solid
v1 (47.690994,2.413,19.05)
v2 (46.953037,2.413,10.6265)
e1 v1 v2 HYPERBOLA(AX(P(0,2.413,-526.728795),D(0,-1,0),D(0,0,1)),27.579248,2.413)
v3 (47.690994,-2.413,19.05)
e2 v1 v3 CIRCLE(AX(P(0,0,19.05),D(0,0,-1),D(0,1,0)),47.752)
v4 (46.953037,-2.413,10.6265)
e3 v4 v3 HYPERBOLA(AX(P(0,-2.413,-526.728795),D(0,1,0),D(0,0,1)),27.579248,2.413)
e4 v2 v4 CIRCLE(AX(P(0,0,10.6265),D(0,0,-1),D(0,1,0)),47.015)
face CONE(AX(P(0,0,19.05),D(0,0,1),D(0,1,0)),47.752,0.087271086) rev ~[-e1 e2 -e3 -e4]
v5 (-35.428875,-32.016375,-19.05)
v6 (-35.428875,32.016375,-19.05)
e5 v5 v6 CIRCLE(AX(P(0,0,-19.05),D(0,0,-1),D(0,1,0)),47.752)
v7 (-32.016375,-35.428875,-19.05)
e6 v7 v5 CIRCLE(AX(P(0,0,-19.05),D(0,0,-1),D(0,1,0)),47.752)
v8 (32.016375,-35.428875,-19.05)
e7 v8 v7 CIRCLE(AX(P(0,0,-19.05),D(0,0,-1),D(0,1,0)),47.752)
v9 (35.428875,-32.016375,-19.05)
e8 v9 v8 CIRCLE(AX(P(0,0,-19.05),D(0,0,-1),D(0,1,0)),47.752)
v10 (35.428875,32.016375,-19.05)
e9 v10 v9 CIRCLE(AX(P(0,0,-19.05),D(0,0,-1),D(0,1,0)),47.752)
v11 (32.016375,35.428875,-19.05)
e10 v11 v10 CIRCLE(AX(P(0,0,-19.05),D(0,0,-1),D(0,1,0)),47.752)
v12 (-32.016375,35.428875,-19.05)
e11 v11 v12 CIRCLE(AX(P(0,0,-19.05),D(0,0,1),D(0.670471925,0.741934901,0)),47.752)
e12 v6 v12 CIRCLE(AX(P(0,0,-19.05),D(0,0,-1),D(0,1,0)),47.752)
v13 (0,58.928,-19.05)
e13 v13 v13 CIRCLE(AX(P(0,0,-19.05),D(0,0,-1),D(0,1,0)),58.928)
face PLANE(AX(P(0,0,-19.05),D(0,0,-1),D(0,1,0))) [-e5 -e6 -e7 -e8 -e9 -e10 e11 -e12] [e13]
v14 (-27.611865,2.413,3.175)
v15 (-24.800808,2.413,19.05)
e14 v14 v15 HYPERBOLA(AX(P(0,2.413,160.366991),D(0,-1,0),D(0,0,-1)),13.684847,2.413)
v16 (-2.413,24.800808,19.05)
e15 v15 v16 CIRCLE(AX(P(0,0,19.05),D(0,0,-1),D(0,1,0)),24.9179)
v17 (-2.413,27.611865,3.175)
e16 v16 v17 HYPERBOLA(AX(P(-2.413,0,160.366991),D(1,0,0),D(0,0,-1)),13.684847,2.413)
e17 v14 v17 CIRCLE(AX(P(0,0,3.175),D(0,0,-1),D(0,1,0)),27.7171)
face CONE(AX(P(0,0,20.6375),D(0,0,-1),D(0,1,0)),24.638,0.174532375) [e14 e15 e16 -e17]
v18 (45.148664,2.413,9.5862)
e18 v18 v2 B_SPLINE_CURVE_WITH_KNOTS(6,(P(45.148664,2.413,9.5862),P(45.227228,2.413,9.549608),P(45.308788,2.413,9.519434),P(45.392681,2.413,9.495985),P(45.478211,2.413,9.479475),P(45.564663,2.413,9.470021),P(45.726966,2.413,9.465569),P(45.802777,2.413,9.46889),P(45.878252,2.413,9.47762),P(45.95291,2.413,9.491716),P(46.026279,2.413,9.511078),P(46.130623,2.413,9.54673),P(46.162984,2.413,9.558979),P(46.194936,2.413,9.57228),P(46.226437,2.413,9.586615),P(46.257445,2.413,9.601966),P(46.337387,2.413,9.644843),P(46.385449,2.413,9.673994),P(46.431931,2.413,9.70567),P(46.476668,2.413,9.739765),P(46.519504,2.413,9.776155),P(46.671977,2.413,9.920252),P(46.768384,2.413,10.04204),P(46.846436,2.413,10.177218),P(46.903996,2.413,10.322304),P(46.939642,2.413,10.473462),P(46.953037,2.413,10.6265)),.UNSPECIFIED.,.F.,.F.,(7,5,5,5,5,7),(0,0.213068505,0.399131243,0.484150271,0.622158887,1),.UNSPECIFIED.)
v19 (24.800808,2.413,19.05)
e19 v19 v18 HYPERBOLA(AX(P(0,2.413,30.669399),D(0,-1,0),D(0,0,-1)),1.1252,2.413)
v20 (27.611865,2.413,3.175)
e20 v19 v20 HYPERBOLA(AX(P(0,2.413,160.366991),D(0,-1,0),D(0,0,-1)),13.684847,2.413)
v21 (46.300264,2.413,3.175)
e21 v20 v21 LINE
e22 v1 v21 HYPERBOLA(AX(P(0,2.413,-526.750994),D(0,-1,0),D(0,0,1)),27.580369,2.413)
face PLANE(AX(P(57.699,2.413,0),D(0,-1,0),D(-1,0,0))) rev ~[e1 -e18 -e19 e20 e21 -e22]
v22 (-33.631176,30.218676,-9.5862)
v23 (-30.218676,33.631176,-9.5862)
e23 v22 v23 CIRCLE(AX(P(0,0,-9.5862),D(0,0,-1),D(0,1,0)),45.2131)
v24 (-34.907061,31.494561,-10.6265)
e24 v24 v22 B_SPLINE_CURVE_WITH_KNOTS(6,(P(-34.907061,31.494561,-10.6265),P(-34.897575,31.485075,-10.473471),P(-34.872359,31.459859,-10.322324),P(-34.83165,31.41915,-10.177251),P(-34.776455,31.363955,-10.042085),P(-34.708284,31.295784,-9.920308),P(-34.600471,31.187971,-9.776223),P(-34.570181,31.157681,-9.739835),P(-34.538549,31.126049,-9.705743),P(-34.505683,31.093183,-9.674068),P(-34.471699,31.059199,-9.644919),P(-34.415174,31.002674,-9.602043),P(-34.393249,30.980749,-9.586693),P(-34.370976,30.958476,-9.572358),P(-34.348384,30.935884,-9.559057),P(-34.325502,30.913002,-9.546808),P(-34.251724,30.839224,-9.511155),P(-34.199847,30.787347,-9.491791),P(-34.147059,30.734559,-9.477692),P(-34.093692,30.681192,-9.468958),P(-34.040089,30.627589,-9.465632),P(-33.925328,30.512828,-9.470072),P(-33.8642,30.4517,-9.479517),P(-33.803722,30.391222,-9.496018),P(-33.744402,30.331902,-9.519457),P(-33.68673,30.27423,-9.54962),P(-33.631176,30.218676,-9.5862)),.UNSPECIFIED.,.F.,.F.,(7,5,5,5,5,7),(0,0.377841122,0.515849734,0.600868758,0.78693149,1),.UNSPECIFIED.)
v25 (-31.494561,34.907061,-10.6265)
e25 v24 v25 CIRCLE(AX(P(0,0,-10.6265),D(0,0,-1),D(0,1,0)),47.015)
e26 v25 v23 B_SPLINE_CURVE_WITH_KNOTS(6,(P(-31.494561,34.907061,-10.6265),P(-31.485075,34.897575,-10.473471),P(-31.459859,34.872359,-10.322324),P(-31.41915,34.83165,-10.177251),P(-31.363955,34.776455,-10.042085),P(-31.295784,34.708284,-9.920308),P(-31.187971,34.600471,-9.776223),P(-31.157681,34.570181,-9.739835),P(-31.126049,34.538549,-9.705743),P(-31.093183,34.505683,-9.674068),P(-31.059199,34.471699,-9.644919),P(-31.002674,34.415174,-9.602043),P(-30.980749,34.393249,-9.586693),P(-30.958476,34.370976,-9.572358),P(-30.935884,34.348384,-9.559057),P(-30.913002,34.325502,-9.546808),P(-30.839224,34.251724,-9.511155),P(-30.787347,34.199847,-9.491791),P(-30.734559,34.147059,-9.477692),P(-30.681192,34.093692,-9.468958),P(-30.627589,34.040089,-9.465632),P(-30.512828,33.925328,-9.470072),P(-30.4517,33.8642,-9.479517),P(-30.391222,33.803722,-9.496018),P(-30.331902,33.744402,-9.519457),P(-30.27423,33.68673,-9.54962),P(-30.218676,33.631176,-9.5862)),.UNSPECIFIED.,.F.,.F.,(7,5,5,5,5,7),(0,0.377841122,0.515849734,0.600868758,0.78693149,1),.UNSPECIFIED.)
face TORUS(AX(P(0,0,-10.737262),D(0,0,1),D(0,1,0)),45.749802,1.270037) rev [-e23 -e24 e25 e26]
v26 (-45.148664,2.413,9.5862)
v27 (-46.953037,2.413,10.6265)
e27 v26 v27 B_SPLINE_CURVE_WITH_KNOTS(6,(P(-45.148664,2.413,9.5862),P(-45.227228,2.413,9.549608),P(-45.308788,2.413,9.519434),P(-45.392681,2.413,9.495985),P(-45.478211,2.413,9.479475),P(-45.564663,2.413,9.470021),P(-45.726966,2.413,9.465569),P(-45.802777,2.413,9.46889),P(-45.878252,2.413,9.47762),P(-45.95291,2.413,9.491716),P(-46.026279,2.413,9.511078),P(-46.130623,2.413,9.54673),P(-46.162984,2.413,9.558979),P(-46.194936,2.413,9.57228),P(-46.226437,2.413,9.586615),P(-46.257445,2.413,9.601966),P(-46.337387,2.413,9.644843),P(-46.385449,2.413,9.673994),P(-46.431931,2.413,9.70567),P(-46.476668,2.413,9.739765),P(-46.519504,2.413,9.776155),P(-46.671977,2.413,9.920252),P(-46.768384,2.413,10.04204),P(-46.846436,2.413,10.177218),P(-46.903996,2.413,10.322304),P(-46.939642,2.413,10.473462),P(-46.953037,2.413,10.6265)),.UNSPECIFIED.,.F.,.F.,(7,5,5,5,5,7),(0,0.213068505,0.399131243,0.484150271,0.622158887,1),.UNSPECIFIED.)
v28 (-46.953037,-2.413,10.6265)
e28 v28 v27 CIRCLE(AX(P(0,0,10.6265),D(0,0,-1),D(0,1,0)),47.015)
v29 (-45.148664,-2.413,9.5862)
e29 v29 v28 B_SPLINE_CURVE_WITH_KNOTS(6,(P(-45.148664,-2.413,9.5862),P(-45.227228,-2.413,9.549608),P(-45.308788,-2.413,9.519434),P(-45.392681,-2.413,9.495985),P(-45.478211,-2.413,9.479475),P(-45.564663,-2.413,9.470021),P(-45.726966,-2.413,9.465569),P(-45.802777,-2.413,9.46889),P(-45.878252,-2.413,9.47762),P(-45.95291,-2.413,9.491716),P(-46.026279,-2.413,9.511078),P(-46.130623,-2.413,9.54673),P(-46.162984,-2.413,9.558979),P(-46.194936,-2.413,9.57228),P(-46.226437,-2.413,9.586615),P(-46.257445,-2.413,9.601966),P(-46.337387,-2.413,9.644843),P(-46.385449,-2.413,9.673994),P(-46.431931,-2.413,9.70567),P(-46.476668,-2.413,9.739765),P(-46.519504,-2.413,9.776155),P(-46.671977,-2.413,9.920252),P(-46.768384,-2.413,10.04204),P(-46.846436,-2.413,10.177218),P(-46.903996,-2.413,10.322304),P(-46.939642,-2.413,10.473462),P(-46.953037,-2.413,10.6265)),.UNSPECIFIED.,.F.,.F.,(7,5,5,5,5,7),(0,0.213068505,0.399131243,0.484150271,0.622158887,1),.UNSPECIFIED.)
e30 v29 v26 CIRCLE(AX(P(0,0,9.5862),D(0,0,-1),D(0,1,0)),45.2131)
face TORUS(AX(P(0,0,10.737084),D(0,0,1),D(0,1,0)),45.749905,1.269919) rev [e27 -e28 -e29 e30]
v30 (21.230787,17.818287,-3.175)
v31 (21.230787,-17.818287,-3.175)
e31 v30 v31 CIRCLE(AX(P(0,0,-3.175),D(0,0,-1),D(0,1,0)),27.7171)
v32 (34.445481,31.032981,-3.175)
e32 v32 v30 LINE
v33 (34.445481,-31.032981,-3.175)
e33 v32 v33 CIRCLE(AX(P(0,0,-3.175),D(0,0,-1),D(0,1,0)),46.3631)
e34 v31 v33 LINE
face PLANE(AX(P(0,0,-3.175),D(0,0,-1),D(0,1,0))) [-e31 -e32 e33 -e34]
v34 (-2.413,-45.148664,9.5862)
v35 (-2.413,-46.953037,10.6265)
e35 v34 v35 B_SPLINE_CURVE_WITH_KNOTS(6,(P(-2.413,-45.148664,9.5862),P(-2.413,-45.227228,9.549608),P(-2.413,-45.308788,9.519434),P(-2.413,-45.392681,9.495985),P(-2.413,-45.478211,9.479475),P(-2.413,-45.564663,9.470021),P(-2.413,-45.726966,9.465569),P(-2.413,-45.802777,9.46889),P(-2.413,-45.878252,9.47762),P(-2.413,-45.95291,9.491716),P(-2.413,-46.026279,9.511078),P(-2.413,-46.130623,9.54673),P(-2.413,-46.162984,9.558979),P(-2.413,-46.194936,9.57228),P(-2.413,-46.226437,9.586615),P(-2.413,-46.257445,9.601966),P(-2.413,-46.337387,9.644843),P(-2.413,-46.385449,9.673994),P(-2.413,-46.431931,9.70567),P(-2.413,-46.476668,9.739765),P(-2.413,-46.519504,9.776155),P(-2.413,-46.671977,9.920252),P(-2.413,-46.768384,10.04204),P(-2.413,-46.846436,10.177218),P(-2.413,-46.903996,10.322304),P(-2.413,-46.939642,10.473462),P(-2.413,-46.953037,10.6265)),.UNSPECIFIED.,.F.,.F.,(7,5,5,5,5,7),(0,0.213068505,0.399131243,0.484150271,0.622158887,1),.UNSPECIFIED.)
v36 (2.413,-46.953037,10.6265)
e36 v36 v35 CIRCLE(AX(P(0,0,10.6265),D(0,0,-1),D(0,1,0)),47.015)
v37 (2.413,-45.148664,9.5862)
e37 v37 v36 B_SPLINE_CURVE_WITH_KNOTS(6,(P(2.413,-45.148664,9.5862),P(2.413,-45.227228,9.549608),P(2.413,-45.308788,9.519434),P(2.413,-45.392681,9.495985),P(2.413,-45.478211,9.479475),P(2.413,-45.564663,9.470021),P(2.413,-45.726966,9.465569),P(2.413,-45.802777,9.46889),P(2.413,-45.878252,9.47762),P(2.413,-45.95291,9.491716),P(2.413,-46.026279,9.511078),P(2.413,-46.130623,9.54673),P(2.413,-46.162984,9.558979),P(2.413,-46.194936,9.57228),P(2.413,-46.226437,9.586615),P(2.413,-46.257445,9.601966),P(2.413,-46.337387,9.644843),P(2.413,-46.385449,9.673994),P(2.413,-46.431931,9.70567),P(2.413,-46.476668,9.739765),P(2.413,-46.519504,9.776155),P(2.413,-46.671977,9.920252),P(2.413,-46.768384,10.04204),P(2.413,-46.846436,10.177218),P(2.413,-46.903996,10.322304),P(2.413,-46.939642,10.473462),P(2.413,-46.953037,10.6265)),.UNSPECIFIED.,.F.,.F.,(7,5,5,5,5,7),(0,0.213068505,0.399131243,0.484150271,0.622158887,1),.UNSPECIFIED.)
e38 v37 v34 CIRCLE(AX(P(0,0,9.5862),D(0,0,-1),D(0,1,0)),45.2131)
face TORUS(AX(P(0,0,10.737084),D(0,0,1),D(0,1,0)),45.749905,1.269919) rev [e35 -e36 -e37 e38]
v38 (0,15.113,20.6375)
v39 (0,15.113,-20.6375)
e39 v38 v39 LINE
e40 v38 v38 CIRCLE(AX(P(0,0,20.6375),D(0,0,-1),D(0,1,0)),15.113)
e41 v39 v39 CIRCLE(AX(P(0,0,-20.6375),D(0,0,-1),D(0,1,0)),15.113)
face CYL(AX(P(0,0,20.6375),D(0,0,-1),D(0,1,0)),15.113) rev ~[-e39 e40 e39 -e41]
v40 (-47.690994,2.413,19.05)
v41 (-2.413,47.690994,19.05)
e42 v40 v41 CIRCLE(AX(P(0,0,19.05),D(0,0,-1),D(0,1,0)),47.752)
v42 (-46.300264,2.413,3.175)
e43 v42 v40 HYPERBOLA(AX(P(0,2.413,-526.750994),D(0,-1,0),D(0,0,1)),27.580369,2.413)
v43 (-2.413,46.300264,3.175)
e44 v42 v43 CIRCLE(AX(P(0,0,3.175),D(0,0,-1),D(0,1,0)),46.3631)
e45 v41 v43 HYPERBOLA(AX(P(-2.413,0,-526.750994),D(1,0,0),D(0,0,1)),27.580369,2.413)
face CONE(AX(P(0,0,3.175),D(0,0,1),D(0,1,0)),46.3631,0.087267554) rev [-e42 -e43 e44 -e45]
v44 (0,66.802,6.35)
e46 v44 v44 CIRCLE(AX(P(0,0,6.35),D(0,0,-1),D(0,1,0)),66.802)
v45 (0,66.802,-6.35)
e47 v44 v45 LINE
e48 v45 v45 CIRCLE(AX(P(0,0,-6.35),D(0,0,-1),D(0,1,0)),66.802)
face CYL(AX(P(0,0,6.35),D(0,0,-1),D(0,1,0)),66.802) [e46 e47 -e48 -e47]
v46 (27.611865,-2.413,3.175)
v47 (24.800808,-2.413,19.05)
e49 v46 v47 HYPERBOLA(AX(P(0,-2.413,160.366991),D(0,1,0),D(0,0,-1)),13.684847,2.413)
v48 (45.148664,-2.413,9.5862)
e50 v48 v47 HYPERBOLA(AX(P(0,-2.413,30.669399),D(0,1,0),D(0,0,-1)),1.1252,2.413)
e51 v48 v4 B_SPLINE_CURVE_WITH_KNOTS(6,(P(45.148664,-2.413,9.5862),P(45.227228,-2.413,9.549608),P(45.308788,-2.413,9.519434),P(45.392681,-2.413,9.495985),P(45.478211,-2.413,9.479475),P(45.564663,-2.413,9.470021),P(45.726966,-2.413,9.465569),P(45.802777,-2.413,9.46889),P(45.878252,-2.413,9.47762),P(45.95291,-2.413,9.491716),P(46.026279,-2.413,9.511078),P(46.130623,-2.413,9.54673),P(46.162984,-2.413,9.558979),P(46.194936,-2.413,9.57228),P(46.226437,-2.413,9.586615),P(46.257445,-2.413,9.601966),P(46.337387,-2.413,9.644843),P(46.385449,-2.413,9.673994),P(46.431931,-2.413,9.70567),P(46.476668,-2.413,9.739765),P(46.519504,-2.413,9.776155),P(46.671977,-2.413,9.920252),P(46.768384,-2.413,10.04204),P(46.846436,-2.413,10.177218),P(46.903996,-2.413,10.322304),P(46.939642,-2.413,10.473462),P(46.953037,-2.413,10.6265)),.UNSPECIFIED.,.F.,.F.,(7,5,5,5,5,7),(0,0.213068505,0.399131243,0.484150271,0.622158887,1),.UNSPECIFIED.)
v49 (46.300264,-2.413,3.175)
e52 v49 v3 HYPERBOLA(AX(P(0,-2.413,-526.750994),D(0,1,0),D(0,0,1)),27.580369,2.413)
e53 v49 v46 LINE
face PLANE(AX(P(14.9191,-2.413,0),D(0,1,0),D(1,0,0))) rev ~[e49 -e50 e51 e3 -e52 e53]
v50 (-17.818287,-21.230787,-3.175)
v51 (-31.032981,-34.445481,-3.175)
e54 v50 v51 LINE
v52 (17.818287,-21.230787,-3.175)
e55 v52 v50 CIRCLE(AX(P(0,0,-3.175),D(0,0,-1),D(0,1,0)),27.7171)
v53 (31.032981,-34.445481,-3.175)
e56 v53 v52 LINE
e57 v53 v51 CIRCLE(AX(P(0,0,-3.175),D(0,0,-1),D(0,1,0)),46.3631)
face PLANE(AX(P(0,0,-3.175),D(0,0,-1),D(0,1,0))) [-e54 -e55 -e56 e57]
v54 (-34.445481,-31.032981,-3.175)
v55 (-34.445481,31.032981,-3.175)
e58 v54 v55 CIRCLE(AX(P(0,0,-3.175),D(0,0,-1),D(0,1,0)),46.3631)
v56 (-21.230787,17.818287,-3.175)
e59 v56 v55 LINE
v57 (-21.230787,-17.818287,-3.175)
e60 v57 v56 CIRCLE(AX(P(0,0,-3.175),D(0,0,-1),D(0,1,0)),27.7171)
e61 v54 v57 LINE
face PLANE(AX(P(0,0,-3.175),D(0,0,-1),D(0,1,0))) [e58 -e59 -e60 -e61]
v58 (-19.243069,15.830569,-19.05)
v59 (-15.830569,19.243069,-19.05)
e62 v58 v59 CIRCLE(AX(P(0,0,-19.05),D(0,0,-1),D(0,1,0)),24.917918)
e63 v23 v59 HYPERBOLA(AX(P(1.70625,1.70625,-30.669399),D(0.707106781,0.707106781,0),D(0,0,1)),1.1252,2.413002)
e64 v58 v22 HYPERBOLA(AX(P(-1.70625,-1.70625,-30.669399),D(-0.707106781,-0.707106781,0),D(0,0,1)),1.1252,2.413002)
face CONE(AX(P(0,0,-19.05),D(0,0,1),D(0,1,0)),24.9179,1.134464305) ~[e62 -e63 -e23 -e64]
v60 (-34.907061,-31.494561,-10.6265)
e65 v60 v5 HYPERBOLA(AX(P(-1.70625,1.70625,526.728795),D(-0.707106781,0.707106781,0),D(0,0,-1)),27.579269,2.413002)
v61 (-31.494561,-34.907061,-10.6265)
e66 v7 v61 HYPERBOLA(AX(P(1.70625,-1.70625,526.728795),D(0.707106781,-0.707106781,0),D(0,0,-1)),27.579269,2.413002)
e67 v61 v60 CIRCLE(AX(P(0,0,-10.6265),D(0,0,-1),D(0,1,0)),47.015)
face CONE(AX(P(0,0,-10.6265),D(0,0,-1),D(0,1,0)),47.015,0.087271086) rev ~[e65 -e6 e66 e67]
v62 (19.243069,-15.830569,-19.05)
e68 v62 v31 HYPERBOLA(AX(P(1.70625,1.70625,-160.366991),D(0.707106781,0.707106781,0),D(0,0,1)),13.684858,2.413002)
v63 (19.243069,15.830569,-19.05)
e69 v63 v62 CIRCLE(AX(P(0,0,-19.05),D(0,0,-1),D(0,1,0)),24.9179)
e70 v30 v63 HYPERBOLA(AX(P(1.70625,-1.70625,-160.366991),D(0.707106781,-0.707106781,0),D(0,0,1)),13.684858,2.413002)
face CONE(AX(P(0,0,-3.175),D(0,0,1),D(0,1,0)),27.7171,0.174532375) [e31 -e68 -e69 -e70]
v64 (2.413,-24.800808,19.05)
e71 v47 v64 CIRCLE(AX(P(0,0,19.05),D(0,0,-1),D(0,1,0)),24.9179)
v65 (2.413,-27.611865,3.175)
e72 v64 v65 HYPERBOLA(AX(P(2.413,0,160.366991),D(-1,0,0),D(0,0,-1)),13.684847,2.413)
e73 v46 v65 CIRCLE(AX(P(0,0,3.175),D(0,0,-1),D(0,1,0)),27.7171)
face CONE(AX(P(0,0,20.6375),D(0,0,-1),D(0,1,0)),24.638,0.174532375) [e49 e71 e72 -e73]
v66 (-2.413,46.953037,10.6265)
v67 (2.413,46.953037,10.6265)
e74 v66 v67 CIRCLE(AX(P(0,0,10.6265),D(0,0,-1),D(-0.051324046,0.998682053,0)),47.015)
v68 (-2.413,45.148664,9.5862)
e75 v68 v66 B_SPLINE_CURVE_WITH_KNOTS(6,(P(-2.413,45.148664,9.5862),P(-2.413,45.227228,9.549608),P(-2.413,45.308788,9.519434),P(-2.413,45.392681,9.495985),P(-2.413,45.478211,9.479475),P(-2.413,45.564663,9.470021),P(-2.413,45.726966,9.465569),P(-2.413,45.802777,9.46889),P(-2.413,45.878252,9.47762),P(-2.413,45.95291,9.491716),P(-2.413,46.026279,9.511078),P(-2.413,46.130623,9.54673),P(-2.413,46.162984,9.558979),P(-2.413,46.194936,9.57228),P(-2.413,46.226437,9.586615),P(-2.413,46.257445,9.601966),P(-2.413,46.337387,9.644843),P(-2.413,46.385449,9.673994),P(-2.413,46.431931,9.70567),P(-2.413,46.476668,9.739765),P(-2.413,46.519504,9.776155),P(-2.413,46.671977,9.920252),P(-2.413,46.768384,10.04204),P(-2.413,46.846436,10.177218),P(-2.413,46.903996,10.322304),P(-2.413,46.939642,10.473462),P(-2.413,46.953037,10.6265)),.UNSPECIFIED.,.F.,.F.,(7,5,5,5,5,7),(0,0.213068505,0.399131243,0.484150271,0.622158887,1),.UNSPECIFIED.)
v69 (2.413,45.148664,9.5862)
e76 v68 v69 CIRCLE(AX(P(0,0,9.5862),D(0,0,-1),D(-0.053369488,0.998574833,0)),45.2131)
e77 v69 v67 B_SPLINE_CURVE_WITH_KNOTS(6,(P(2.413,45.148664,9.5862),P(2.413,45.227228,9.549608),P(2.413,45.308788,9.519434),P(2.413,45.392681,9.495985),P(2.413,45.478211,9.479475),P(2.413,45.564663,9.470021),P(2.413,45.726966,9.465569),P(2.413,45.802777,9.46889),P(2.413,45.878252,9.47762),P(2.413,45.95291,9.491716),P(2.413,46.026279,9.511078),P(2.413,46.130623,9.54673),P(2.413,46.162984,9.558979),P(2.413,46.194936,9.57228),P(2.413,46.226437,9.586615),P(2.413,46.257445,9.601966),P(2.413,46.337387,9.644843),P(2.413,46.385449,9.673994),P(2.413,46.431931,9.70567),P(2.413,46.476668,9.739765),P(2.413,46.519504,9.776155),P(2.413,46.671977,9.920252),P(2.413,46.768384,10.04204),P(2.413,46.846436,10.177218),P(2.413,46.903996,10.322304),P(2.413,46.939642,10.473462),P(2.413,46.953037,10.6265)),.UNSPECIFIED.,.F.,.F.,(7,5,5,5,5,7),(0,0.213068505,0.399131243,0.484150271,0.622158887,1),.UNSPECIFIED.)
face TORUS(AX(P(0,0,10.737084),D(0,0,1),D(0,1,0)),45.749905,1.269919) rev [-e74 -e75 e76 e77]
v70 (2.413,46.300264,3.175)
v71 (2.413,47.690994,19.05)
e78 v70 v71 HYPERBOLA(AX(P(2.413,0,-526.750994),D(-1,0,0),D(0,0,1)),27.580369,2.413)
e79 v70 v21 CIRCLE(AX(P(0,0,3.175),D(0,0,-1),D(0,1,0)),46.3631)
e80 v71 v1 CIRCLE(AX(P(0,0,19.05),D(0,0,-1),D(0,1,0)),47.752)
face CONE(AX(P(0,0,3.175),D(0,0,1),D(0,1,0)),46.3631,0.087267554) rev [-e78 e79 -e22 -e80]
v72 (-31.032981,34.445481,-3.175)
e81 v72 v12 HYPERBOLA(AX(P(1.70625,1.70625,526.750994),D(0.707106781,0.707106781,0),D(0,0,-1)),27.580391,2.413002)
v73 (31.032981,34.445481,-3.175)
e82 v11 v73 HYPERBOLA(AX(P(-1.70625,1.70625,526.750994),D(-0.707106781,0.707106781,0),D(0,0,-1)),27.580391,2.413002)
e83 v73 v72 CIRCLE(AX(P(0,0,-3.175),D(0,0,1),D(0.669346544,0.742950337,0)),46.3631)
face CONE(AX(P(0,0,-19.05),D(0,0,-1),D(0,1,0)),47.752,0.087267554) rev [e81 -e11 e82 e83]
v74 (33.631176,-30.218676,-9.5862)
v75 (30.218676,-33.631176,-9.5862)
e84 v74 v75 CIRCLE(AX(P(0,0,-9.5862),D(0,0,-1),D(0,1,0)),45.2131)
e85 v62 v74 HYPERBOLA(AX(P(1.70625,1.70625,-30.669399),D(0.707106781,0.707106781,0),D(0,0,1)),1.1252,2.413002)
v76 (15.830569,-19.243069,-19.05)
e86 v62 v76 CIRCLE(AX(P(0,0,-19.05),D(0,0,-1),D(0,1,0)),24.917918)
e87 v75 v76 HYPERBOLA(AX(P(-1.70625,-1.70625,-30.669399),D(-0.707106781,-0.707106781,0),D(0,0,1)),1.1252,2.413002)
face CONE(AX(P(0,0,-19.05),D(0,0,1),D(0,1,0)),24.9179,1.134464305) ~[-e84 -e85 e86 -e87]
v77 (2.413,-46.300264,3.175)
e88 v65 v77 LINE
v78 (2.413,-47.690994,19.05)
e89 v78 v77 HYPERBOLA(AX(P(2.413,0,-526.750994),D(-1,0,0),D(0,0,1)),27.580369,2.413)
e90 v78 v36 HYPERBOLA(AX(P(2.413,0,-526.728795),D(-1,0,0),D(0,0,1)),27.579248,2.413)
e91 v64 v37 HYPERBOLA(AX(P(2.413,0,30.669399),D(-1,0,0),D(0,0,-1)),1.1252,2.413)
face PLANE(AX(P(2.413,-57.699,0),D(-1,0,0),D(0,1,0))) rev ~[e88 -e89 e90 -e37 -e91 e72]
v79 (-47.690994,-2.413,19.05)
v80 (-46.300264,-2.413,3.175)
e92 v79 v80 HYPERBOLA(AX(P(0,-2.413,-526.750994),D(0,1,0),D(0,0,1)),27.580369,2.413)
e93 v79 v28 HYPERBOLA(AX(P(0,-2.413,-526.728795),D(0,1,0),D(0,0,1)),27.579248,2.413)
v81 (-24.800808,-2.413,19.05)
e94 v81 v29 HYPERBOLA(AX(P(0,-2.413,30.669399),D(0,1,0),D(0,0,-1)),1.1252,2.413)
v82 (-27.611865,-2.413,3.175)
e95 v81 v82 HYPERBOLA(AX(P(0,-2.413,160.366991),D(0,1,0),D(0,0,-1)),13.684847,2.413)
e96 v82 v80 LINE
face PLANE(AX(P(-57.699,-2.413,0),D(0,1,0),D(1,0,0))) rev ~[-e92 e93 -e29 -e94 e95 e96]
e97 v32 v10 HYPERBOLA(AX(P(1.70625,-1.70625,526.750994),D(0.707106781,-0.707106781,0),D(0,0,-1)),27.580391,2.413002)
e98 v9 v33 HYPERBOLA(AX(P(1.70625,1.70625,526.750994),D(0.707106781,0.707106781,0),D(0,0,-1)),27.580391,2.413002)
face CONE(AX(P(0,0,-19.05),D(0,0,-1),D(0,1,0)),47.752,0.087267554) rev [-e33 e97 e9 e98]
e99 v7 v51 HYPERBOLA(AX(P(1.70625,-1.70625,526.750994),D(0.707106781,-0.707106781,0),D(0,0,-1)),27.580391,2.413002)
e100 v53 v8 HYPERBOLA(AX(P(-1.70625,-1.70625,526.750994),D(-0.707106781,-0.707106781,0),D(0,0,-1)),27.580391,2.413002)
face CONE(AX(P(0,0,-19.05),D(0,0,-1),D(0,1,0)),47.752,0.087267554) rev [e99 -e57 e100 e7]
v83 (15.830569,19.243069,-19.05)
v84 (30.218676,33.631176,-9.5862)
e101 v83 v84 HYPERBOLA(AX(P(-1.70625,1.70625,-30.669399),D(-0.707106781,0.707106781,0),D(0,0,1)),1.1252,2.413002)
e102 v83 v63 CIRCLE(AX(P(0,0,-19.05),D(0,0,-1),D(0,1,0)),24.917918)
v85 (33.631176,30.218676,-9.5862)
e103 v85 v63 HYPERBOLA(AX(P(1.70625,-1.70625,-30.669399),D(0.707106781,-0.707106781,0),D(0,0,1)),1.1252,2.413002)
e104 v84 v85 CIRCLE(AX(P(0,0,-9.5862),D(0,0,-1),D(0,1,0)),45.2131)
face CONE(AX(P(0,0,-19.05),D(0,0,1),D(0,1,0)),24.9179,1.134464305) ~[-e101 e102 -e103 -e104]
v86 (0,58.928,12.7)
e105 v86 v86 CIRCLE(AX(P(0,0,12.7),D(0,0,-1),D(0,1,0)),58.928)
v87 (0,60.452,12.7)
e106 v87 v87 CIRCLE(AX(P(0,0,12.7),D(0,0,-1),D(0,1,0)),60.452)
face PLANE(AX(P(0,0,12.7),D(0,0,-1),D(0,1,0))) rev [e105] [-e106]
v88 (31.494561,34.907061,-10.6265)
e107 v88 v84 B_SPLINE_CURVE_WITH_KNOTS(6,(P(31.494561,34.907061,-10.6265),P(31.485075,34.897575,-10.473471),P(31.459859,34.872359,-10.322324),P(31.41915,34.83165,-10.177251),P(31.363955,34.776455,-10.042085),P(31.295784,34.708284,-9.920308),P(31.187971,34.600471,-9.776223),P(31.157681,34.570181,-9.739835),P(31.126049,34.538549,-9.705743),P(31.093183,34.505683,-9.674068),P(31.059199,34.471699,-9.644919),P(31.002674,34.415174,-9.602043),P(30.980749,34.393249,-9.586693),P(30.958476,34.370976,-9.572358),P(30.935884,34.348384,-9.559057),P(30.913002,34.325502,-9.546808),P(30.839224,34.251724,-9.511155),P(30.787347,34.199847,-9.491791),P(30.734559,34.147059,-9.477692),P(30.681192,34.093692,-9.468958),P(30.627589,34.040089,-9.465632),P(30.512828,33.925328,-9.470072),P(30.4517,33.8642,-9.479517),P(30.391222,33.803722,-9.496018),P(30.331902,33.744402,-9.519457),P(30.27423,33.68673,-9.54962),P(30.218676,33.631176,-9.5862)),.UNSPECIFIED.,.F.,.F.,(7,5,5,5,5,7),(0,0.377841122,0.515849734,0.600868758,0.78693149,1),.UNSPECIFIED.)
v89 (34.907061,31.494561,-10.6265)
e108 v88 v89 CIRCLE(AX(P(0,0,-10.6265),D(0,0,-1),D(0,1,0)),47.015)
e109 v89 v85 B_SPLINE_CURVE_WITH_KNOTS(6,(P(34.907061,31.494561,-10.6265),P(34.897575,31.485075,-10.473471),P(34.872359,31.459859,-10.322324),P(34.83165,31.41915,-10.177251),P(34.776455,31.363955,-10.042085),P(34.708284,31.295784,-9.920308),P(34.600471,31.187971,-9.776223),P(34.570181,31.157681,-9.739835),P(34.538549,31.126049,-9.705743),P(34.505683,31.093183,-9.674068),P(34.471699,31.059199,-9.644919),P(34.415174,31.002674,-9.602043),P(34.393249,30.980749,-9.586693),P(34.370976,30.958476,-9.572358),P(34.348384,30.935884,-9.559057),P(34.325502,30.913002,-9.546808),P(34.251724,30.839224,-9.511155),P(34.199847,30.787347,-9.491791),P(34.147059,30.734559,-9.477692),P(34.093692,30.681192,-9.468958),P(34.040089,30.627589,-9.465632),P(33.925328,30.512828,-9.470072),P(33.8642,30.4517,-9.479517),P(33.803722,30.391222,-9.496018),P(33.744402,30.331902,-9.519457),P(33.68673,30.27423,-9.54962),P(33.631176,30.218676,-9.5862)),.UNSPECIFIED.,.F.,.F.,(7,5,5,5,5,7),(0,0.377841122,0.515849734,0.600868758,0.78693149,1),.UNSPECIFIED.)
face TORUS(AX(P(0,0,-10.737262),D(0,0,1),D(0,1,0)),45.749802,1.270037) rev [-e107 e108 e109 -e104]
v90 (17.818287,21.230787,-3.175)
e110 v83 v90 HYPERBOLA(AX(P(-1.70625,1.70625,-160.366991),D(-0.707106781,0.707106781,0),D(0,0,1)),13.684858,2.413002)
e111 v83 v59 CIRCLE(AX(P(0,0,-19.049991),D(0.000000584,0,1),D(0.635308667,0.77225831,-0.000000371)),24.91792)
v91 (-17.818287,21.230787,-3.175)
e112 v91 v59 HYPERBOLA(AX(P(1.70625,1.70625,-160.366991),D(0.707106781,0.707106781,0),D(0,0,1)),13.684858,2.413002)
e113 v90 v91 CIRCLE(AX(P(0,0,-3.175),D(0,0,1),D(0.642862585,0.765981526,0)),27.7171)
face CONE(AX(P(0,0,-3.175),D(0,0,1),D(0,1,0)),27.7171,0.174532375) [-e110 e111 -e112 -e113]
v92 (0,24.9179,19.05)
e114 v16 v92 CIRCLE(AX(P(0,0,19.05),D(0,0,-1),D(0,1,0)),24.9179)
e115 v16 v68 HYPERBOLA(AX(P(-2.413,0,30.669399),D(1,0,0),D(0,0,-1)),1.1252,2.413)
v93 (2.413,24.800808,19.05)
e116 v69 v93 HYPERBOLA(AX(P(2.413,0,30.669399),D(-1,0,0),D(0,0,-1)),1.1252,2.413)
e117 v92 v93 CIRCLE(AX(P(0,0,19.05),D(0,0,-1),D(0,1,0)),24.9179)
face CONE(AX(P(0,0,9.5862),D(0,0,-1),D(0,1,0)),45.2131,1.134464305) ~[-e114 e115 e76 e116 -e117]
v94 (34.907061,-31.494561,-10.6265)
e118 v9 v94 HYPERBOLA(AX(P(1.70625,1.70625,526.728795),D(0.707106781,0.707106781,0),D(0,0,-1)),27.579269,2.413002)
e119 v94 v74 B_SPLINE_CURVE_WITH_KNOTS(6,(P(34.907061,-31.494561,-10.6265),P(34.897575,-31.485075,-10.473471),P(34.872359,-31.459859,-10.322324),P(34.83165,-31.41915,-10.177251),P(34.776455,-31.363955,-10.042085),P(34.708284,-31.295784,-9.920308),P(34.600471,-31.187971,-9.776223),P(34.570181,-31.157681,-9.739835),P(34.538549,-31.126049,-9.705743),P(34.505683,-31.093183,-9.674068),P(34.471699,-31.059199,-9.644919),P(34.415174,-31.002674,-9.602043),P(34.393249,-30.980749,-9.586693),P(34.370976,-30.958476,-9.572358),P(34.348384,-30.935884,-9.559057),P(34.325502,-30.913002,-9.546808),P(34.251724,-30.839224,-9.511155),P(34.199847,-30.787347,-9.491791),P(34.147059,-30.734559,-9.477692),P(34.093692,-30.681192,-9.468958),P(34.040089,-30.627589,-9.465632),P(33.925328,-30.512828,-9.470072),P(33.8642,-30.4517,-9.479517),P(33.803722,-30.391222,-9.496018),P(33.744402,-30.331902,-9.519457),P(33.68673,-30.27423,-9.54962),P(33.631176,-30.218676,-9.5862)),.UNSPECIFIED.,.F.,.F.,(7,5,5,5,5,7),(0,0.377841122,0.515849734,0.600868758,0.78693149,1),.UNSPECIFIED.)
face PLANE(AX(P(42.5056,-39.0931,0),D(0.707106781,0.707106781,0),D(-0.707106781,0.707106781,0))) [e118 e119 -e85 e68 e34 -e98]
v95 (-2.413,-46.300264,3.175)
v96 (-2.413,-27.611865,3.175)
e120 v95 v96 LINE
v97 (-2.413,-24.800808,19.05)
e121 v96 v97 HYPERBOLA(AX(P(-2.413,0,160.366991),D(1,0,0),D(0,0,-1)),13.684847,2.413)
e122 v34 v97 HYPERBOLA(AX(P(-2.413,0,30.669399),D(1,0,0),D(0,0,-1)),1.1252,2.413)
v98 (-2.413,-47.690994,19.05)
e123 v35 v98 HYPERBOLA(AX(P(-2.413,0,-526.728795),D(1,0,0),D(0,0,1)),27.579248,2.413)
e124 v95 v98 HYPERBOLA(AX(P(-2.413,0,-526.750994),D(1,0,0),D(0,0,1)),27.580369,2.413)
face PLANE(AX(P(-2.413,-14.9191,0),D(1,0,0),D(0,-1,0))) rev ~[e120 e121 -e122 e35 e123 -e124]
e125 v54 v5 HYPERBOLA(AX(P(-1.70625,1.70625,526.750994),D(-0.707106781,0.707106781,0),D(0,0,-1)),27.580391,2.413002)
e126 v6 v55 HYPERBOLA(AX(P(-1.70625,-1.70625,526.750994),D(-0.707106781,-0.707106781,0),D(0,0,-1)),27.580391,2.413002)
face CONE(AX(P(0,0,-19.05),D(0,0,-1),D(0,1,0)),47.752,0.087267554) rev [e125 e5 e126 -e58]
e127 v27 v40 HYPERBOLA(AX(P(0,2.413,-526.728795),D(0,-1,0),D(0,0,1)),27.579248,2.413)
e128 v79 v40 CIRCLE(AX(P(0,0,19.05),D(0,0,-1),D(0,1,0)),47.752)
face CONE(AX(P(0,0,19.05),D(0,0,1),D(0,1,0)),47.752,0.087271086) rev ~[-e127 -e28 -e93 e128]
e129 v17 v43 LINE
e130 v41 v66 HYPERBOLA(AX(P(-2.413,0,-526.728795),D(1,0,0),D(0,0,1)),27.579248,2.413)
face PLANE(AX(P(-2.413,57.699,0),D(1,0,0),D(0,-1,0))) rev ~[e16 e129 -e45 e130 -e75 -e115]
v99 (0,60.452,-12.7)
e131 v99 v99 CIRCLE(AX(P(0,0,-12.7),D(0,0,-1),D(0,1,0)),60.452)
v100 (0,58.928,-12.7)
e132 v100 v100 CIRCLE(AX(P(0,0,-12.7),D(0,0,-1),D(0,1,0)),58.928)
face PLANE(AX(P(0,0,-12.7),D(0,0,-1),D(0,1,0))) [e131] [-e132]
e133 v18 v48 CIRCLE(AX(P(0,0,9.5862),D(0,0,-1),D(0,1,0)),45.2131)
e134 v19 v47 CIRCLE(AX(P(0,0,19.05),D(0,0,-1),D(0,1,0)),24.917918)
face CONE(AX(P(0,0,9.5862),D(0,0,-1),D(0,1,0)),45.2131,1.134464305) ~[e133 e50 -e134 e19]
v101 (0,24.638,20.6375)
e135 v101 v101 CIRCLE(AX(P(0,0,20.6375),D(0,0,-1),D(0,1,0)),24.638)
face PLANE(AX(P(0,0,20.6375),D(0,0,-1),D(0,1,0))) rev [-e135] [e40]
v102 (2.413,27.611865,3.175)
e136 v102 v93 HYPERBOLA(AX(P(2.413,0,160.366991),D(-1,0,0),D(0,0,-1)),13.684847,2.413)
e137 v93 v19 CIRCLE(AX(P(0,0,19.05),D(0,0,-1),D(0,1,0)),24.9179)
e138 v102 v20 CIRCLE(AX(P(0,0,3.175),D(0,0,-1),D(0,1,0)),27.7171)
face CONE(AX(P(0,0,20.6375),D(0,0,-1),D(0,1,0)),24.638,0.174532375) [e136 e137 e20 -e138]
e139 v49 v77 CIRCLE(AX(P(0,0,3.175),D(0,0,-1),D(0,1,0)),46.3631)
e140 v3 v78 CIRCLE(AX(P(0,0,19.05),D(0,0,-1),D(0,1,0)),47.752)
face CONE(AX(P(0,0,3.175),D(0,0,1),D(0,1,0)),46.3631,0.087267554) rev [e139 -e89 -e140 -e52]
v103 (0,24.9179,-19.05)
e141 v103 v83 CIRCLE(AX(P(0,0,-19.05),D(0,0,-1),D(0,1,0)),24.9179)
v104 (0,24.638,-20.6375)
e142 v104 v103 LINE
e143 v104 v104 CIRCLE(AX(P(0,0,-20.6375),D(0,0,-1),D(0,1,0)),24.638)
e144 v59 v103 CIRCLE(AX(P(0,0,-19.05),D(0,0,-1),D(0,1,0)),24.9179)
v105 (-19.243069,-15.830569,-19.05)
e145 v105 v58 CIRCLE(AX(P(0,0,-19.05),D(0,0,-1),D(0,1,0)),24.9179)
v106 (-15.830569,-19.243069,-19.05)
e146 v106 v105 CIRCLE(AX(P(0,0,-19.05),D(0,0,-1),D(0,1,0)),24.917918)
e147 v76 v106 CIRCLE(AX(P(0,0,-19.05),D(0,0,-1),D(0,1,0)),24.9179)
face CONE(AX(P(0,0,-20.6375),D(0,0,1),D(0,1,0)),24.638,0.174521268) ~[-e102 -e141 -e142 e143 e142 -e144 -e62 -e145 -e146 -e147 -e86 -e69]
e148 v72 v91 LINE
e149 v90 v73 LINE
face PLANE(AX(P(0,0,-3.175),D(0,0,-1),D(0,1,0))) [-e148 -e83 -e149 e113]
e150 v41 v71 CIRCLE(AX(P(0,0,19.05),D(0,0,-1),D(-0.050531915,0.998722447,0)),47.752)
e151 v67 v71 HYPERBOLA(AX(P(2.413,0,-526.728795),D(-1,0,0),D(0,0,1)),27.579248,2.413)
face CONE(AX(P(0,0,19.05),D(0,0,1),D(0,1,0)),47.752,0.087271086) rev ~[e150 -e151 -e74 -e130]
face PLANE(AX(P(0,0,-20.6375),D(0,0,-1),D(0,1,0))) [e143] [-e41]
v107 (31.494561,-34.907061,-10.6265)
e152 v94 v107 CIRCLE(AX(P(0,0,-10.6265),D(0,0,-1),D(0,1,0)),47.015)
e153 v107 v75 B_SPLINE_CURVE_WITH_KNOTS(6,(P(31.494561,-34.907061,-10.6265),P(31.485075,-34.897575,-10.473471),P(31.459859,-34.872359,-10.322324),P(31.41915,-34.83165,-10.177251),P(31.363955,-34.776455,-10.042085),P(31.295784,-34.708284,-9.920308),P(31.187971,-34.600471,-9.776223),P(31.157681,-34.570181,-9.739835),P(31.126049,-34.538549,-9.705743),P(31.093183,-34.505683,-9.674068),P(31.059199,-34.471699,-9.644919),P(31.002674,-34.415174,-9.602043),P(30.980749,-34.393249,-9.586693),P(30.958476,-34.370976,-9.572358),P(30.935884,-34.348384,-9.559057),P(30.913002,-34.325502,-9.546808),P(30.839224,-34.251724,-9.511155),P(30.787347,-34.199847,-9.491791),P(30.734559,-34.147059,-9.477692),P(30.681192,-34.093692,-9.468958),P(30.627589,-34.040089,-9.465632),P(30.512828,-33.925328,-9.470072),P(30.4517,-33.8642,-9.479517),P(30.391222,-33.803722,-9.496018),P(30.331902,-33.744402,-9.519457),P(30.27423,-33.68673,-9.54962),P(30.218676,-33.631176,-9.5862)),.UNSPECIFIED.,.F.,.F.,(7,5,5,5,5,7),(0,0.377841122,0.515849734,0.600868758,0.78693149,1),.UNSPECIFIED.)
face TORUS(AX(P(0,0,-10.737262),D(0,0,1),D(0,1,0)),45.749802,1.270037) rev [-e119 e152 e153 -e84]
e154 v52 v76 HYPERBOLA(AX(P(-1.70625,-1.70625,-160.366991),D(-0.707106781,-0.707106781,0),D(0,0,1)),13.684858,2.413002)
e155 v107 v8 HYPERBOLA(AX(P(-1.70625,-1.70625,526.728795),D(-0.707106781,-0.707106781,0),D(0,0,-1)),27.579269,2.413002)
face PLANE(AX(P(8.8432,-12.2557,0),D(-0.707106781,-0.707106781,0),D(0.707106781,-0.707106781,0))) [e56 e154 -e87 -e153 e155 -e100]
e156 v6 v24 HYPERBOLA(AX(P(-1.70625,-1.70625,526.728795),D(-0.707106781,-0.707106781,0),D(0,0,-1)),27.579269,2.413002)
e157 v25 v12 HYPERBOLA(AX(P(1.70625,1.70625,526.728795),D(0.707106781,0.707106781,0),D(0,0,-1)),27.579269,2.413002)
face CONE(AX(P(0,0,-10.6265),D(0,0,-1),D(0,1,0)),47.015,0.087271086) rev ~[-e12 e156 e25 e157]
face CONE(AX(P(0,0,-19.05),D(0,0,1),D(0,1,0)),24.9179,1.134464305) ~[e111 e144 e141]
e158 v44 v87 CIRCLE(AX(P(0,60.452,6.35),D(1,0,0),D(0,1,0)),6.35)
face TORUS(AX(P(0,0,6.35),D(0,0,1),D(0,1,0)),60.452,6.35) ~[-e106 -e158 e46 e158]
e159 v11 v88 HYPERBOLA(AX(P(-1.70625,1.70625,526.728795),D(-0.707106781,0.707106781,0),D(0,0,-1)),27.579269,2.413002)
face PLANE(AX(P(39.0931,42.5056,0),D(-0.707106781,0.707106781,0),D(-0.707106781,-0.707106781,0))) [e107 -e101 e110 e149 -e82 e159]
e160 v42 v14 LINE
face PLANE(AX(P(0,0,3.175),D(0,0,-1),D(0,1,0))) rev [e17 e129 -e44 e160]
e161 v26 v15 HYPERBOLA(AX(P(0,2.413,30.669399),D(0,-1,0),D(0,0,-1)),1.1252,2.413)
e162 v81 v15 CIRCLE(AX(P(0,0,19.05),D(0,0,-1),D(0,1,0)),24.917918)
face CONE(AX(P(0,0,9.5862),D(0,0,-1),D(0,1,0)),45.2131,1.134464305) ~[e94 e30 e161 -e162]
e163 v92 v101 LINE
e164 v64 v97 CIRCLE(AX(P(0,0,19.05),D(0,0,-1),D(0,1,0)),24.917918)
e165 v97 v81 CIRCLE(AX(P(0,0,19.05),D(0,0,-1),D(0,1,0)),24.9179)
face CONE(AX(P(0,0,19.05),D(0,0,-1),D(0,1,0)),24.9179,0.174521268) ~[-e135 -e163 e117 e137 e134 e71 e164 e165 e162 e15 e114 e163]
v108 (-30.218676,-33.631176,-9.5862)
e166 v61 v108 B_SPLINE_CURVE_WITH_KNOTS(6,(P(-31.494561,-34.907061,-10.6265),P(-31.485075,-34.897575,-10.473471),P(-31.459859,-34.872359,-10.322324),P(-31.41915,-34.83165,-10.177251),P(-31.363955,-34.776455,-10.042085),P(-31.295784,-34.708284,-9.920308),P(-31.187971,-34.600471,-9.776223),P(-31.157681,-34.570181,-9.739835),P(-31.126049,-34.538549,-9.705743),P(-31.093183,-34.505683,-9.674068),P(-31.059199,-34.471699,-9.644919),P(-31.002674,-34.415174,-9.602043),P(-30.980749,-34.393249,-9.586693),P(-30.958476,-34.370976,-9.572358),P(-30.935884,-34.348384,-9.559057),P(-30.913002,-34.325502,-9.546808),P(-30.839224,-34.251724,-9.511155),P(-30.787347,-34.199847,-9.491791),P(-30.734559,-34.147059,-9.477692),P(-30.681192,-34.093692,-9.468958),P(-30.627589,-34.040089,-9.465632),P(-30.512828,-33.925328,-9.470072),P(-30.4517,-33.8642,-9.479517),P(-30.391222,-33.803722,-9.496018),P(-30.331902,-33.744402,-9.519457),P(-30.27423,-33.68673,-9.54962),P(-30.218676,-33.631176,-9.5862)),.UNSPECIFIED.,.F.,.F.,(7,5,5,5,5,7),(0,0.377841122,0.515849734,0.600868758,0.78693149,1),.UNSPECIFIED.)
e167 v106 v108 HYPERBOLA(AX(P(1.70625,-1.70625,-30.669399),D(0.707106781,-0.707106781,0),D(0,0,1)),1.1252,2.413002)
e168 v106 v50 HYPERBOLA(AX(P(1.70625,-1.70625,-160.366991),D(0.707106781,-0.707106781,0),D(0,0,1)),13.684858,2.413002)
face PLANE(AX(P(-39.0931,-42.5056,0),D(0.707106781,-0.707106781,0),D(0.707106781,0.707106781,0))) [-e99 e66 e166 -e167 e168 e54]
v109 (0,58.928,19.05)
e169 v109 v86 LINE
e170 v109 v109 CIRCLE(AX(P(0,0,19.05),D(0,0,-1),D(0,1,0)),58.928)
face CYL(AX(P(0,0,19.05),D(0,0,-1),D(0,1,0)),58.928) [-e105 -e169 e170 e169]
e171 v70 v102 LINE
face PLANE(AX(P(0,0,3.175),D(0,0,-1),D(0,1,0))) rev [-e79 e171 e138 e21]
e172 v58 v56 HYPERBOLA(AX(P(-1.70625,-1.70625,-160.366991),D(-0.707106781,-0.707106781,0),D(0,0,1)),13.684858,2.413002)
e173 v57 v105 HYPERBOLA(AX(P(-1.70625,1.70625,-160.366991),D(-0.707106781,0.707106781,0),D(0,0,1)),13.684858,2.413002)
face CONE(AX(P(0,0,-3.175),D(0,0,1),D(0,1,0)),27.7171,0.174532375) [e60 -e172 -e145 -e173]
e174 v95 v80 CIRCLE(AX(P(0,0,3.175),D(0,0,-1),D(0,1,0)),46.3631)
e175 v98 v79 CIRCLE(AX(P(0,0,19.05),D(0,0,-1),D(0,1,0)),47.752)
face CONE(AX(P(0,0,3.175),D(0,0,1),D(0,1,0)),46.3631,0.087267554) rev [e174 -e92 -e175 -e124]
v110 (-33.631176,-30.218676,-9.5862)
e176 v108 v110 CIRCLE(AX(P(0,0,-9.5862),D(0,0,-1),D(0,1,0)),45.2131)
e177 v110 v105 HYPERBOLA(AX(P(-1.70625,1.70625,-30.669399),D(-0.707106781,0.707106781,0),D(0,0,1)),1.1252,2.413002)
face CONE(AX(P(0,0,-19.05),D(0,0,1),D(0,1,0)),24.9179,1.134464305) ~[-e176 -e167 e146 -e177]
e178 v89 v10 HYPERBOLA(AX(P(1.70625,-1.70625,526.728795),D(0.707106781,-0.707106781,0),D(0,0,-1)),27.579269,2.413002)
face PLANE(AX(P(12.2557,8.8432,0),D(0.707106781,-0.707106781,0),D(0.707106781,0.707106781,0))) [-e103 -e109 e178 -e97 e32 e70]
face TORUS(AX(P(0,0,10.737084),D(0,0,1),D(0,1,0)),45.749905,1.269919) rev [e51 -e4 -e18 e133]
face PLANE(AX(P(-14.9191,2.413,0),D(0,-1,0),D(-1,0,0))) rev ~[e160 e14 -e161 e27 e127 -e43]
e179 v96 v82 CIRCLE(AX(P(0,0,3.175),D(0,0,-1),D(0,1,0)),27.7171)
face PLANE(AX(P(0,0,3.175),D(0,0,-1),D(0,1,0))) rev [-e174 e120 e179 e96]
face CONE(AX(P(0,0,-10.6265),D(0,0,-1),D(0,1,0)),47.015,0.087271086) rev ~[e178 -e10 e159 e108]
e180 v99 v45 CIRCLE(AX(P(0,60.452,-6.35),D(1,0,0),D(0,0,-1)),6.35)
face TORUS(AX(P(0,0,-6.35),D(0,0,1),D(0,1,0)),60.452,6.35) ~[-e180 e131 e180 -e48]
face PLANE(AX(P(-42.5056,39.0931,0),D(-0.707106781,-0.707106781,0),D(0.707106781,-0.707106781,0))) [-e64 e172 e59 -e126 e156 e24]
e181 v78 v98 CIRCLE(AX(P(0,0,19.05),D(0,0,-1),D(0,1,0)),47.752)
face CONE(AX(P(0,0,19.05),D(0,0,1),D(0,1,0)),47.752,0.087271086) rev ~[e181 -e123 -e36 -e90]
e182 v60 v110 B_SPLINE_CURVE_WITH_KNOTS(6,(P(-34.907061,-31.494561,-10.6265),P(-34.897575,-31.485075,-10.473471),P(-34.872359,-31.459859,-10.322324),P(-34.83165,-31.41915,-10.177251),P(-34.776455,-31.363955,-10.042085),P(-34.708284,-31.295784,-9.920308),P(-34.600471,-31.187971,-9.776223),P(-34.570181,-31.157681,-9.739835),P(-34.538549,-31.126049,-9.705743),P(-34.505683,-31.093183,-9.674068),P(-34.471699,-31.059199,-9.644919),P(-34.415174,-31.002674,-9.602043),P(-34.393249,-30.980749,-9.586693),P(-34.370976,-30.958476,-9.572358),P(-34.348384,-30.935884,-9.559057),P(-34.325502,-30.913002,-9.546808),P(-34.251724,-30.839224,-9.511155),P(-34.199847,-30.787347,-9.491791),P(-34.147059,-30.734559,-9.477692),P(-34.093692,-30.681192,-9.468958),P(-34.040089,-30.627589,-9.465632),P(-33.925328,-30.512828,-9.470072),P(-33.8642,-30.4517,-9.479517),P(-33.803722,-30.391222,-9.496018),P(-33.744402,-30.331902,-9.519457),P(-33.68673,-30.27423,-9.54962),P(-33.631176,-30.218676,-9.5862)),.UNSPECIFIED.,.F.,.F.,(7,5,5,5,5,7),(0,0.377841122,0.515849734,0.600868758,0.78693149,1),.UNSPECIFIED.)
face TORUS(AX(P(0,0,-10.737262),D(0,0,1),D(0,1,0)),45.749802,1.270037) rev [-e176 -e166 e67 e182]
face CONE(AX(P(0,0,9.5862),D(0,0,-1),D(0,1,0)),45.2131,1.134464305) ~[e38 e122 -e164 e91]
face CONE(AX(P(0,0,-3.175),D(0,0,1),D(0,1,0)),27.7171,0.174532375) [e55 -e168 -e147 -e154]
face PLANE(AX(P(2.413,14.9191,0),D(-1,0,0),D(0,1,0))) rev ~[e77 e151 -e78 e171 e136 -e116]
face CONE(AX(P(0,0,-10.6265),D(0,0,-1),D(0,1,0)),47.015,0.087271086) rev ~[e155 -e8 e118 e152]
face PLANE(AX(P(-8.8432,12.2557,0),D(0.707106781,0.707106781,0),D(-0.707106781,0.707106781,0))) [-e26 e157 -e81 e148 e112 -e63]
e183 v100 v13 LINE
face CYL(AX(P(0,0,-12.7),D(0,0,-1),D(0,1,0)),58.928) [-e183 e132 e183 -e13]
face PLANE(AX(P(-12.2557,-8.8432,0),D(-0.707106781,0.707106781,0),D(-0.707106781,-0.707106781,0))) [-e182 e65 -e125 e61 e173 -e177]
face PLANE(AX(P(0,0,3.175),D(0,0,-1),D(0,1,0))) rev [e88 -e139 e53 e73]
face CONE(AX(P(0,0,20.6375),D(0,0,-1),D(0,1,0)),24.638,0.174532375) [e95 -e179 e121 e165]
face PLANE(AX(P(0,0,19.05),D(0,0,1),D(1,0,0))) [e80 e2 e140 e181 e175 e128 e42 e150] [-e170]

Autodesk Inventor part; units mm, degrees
sketch "Sketch_1" plane through (0, 0, 0) normal (1, 0, 0) x (0, 1, 0)
  line L0 (0, -20.6375) -> (0, 20.6375)
  line L1 (0, 20.6375) -> (24.638, 20.6375)
  line L2 (24.638, 20.6375) -> (27.7171, 3.175)
  line L3 (27.7171, 3.175) -> (46.3631, 3.175)
  line L4 (46.3631, 3.175) -> (47.752, 19.05)
  line L5 (47.752, 19.05) -> (58.928, 19.05)
  line L6 (58.928, 19.05) -> (58.928, 12.7)
  line L7 (58.928, 12.7) -> (60.452, 12.7)
  arc A0 (66.802, 6.35) -> (60.452, 12.7) centre (60.452, 6.35) ccw
  line L8 (66.802, 6.35) -> (66.802, -6.35)
  arc A1 (60.452, -12.7) -> (66.802, -6.35) centre (60.452, -6.35) ccw
  line L9 (60.452, -12.7) -> (58.928, -12.7)
  line L10 (58.928, -12.7) -> (58.928, -19.05)
  line L11 (58.928, -19.05) -> (47.752, -19.05)
  line L12 (47.752, -19.05) -> (46.3631, -3.175)
  line L13 (46.3631, -3.175) -> (27.7171, -3.175)
  line L14 (27.7171, -3.175) -> (24.638, -20.6375)
  line L15 (24.638, -20.6375) -> (0, -20.6375)
  line L16 (0, -20.6375) -> (0, 20.6375)
revolve "Revolution1" add sketch "Sketch_1" angle 360 about axis through (0, 0, -20.6375) along (0, 0, -1)
sketch "Sketch_5" plane through (0, 0, 0) normal (0, 0, 1) x (1, 0, 0)
  arc A0 (-57.699, 2.413) -> (-57.699, -2.413) centre (0, 0) ccw
  line L0 (-57.699, -2.413) -> (-14.9191, -2.413)
  arc A1 (-14.9191, -2.413) -> (-2.413, -14.9191) centre (0, 0) ccw
  line L1 (-2.413, -14.9191) -> (-2.413, -57.699)
  arc A2 (-2.413, -57.699) -> (2.413, -57.699) centre (0, 0) ccw
  line L2 (2.413, -57.699) -> (2.413, -14.9191)
  arc A3 (2.413, -14.9191) -> (14.9191, -2.413) centre (0, 0) ccw
  line L3 (14.9191, -2.413) -> (57.699, -2.413)
  arc A4 (57.699, -2.413) -> (57.699, 2.413) centre (0, 0) ccw
  line L4 (57.699, 2.413) -> (14.9191, 2.413)
  arc A5 (14.9191, 2.413) -> (2.413, 14.9191) centre (0, 0) ccw
  line L5 (2.413, 14.9191) -> (2.413, 57.699)
  arc A6 (2.413, 57.699) -> (-2.413, 57.699) centre (0, 0) ccw
  line L6 (-2.413, 57.699) -> (-2.413, 14.9191)
  arc A7 (-2.413, 14.9191) -> (-14.9191, 2.413) centre (0, 0) ccw
  line L7 (-14.9191, 2.413) -> (-57.699, 2.413)
extrude "Extrusion1" add sketch "Sketch_5" along normal blind 19.05
sketch "Sketch_7" plane through (0, 0, 0) normal (0, 0, 1) x (1, 0, 0)
  arc A0 (-42.5056, -39.0931) -> (-39.0931, -42.5056) centre (0, 0) ccw
  line L0 (-39.0931, -42.5056) -> (-8.8432, -12.2557)
  arc A1 (-8.8432, -12.2557) -> (8.8432, -12.2557) centre (0, 0) ccw
  line L1 (8.8432, -12.2557) -> (39.0931, -42.5056)
  arc A2 (39.0931, -42.5056) -> (42.5056, -39.0931) centre (0, 0) ccw
  line L2 (42.5056, -39.0931) -> (12.2557, -8.8432)
  arc A3 (12.2557, -8.8432) -> (12.2557, 8.8432) centre (0, 0) ccw
  line L3 (12.2557, 8.8432) -> (42.5056, 39.0931)
  arc A4 (42.5056, 39.0931) -> (39.0931, 42.5056) centre (0, 0) ccw
  line L4 (39.0931, 42.5056) -> (8.8432, 12.2557)
  arc A5 (8.8432, 12.2557) -> (-8.8432, 12.2557) centre (0, 0) ccw
  line L5 (-8.8432, 12.2557) -> (-39.0931, 42.5056)
  arc A6 (-39.0931, 42.5056) -> (-42.5056, 39.0931) centre (0, 0) ccw
  line L6 (-42.5056, 39.0931) -> (-12.2557, 8.8432)
  arc A7 (-12.2557, 8.8432) -> (-12.2557, -8.8432) centre (0, 0) ccw
  line L7 (-12.2557, -8.8432) -> (-42.5056, -39.0931)
extrude "Extrusion2" add sketch "Sketch_7" against normal blind 19.05
sketch "Sketch_6" plane through (0, 0, 0) normal (1, 0, 0) x (0, 1, 0)
  line L0 (0, 20.6375) -> (0, 28.5115)
  line L1 (0, 28.5115) -> (47.752, 28.5115)
  line L2 (47.752, 28.5115) -> (47.752, 19.05)
  line L3 (47.752, 19.05) -> (47.015, 10.6265)
  arc A0 (45.2131, 9.5862) -> (47.015, 10.6265) centre (45.7499, 10.7372) ccw
  line L4 (45.2131, 9.5862) -> (24.9179, 19.05)
  line L5 (24.9179, 19.05) -> (24.638, 20.6375)
  line L6 (24.638, 20.6375) -> (0, 20.6375)
  line L7 (0, 20.6375) -> (0, 28.5115)
revolve "Revolution2" cut sketch "Sketch_6" angle 360 about axis through (0, 0, 20.6375) along (0, 0, -1)
sketch "Sketch_4" plane through (0, 0, 0) normal (1, 0, 0) x (0, 1, 0)
  line L0 (0, -28.5115) -> (0, -20.6375)
  line L1 (0, -20.6375) -> (24.638, -20.6375)
  line L2 (24.638, -20.6375) -> (24.9179, -19.05)
  line L3 (24.9179, -19.05) -> (45.2131, -9.5862)
  arc A0 (47.015, -10.6265) -> (45.2131, -9.5862) centre (45.7499, -10.7372) ccw
  line L4 (47.015, -10.6265) -> (47.752, -19.05)
  line L5 (47.752, -19.05) -> (47.752, -28.5115)
  line L6 (47.752, -28.5115) -> (0, -28.5115)
  line L7 (0, -28.5115) -> (0, -20.6375)
revolve "Revolution3" cut sketch "Sketch_4" angle 360 about axis through (0, 0, -28.5115) along (0, 0, -1)
sketch "Sketch_3_ALT_Drilling_1" plane through (0, 0, 0) normal (1, 0, 0) x (0, 1, 0)
  line L0 (0, -20.6375) -> (0, 20.6375)
  line L1 (0, 20.6375) -> (15.113, 20.6375)
  line L2 (15.113, 20.6375) -> (15.113, -20.6375)
  line L3 (15.113, -20.6375) -> (0, -20.6375)
  line L4 (0, -20.6375) -> (0, 20.6375)
revolve "Revolution4" cut sketch "Sketch_3_ALT_Drilling_1" angle 360 about axis through (0, 0, -20.6375) along (0, 0, -1)
ref_plane "BB_1_XY" through (0, 6.35, -20.6375) normal (1, 0, 0) x (0, 0, -1)
ref_plane "BB_1_YZ" through (0, 6.35, -20.6375) normal (0, 0, -1) x (0, 1, 0)
ref_plane "BB_1_ZX" through (0, 6.35, -20.6375) normal (0, 1, 0) x (1, 0, 0)
ref_plane "BB_2_XY" through (0, -6.35, -20.6375) normal (1, 0, 0) x (0, 0, -1)
ref_plane "BB_2_YZ" through (0, -6.35, -20.6375) normal (0, 0, -1) x (0, 1, 0)
ref_plane "BB_2_ZX" through (0, -6.35, -20.6375) normal (0, 1, 0) x (1, 0, 0)
ref_plane "D_1_XY" through (0, 76.2, 0) normal (0, 0, 1) x (1, 0, 0)
ref_plane "D_1_YZ" through (0, 76.2, 0) normal (1, 0, 0) x (0, 1, 0)
ref_plane "D_1_ZX" through (0, 76.2, 0) normal (0, 1, 0) x (0, 0, 1)
ref_plane "D_2_XY" through (0, -76.2, 0) normal (0, 0, 1) x (1, 0, 0)
ref_plane "D_2_YZ" through (0, -76.2, 0) normal (1, 0, 0) x (0, 1, 0)
ref_plane "D_2_ZX" through (0, -76.2, 0) normal (0, 1, 0) x (0, 0, 1)
ref_plane "HUB_1_XY" through (0, -24.638, 20.6375) normal (1, 0, 0) x (0, 0, -1)
ref_plane "HUB_1_YZ" through (0, -24.638, 20.6375) normal (0, 0, -1) x (0, 1, 0)
ref_plane "HUB_1_ZX" through (0, -24.638, 20.6375) normal (0, 1, 0) x (1, 0, 0)
ref_plane "HUB_2_XY" through (0, -24.638, -20.6375) normal (1, 0, 0) x (0, 0, -1)
ref_plane "HUB_2_YZ" through (0, -24.638, -20.6375) normal (0, 0, -1) x (0, 1, 0)
ref_plane "HUB_2_ZX" through (0, -24.638, -20.6375) normal (0, 1, 0) x (1, 0, 0)
ref_plane "W_1_XY" through (0, 24.638, 19.05) normal (1, 0, 0) x (0, 0, -1)
ref_plane "W_1_YZ" through (0, 24.638, 19.05) normal (0, 0, -1) x (0, 1, 0)
ref_plane "W_1_ZX" through (0, 24.638, 19.05) normal (0, 1, 0) x (1, 0, 0)
ref_plane "W_2_XY" through (0, 24.638, -19.05) normal (1, 0, 0) x (0, 0, -1)
ref_plane "W_2_YZ" through (0, 24.638, -19.05) normal (0, 0, -1) x (0, 1, 0)
ref_plane "W_2_ZX" through (0, 24.638, -19.05) normal (0, 1, 0) x (1, 0, 0)
ref_plane "core_XY" through (0, 0, 0) normal (0, 0, 1) x (1, 0, 0)
ref_plane "core_YZ" through (0, 0, 0) normal (1, 0, 0) x (0, 1, 0)
ref_plane "core_ZX" through (0, 0, 0) normal (0, 1, 0) x (0, 0, 1)
ref_plane "core_to_bearing1_XY" through (0, 0, 20.6375) normal (0, 0, 1) x (1, 0, 0)
ref_plane "core_to_bearing1_YZ" through (0, 0, 20.6375) normal (1, 0, 0) x (0, 1, 0)
ref_plane "core_to_bearing1_ZX" through (0, 0, 20.6375) normal (0, 1, 0) x (0, 0, 1)
ref_plane "core_to_bearing2_XY" through (0, 0, -20.6375) normal (0, 0, 1) x (1, 0, 0)
ref_plane "core_to_bearing2_YZ" through (0, 0, -20.6375) normal (1, 0, 0) x (0, 1, 0)
ref_plane "core_to_bearing2_ZX" through (0, 0, -20.6375) normal (0, 1, 0) x (0, 0, 1)
ref_plane "core_to_tg1_XY" through (0, 0, 23.8125) normal (0, 0, 1) x (1, 0, 0)
ref_plane "core_to_tg1_YZ" through (0, 0, 23.8125) normal (1, 0, 0) x (0, 1, 0)
ref_plane "core_to_tg1_ZX" through (0, 0, 23.8125) normal (0, 1, 0) x (0, 0, 1)
ref_plane "core_to_tg2_XY" through (0, 0, -23.8125) normal (0, 0, 1) x (1, 0, 0)
ref_plane "core_to_tg2_YZ" through (0, 0, -23.8125) normal (1, 0, 0) x (0, 1, 0)
ref_plane "core_to_tg2_ZX" through (0, 0, -23.8125) normal (0, 1, 0) x (0, 0, 1)
ref_plane "to_spacer1_XY" through (0, 0, 22.7965) normal (0, 0, 1) x (1, 0, 0)
ref_plane "to_spacer1_YZ" through (0, 0, 22.7965) normal (1, 0, 0) x (0, 1, 0)
ref_plane "to_spacer1_ZX" through (0, 0, 22.7965) normal (0, 1, 0) x (0, 0, 1)
ref_plane "to_spacer2_XY" through (0, 0, -22.7965) normal (0, 0, 1) x (1, 0, 0)
ref_plane "to_spacer2_YZ" through (0, 0, -22.7965) normal (1, 0, 0) x (0, 1, 0)
ref_plane "to_spacer2_ZX" through (0, 0, -22.7965) normal (0, 1, 0) x (0, 0, 1)
ref_plane "to_washer1_XY" through (0, 0, 20.6375) normal (0, 0, 1) x (1, 0, 0)
ref_plane "to_washer1_YZ" through (0, 0, 20.6375) normal (1, 0, 0) x (0, 1, 0)
ref_plane "to_washer1_ZX" through (0, 0, 20.6375) normal (0, 1, 0) x (0, 0, 1)
ref_plane "to_washer2_XY" through (0, 0, -20.6375) normal (0, 0, 1) x (1, 0, 0)
ref_plane "to_washer2_YZ" through (0, 0, -20.6375) normal (1, 0, 0) x (0, 1, 0)
ref_plane "to_washer2_ZX" through (0, 0, -20.6375) normal (0, 1, 0) x (0, 0, 1)
properties part number "3.00006.4411 1/2 (C)"
